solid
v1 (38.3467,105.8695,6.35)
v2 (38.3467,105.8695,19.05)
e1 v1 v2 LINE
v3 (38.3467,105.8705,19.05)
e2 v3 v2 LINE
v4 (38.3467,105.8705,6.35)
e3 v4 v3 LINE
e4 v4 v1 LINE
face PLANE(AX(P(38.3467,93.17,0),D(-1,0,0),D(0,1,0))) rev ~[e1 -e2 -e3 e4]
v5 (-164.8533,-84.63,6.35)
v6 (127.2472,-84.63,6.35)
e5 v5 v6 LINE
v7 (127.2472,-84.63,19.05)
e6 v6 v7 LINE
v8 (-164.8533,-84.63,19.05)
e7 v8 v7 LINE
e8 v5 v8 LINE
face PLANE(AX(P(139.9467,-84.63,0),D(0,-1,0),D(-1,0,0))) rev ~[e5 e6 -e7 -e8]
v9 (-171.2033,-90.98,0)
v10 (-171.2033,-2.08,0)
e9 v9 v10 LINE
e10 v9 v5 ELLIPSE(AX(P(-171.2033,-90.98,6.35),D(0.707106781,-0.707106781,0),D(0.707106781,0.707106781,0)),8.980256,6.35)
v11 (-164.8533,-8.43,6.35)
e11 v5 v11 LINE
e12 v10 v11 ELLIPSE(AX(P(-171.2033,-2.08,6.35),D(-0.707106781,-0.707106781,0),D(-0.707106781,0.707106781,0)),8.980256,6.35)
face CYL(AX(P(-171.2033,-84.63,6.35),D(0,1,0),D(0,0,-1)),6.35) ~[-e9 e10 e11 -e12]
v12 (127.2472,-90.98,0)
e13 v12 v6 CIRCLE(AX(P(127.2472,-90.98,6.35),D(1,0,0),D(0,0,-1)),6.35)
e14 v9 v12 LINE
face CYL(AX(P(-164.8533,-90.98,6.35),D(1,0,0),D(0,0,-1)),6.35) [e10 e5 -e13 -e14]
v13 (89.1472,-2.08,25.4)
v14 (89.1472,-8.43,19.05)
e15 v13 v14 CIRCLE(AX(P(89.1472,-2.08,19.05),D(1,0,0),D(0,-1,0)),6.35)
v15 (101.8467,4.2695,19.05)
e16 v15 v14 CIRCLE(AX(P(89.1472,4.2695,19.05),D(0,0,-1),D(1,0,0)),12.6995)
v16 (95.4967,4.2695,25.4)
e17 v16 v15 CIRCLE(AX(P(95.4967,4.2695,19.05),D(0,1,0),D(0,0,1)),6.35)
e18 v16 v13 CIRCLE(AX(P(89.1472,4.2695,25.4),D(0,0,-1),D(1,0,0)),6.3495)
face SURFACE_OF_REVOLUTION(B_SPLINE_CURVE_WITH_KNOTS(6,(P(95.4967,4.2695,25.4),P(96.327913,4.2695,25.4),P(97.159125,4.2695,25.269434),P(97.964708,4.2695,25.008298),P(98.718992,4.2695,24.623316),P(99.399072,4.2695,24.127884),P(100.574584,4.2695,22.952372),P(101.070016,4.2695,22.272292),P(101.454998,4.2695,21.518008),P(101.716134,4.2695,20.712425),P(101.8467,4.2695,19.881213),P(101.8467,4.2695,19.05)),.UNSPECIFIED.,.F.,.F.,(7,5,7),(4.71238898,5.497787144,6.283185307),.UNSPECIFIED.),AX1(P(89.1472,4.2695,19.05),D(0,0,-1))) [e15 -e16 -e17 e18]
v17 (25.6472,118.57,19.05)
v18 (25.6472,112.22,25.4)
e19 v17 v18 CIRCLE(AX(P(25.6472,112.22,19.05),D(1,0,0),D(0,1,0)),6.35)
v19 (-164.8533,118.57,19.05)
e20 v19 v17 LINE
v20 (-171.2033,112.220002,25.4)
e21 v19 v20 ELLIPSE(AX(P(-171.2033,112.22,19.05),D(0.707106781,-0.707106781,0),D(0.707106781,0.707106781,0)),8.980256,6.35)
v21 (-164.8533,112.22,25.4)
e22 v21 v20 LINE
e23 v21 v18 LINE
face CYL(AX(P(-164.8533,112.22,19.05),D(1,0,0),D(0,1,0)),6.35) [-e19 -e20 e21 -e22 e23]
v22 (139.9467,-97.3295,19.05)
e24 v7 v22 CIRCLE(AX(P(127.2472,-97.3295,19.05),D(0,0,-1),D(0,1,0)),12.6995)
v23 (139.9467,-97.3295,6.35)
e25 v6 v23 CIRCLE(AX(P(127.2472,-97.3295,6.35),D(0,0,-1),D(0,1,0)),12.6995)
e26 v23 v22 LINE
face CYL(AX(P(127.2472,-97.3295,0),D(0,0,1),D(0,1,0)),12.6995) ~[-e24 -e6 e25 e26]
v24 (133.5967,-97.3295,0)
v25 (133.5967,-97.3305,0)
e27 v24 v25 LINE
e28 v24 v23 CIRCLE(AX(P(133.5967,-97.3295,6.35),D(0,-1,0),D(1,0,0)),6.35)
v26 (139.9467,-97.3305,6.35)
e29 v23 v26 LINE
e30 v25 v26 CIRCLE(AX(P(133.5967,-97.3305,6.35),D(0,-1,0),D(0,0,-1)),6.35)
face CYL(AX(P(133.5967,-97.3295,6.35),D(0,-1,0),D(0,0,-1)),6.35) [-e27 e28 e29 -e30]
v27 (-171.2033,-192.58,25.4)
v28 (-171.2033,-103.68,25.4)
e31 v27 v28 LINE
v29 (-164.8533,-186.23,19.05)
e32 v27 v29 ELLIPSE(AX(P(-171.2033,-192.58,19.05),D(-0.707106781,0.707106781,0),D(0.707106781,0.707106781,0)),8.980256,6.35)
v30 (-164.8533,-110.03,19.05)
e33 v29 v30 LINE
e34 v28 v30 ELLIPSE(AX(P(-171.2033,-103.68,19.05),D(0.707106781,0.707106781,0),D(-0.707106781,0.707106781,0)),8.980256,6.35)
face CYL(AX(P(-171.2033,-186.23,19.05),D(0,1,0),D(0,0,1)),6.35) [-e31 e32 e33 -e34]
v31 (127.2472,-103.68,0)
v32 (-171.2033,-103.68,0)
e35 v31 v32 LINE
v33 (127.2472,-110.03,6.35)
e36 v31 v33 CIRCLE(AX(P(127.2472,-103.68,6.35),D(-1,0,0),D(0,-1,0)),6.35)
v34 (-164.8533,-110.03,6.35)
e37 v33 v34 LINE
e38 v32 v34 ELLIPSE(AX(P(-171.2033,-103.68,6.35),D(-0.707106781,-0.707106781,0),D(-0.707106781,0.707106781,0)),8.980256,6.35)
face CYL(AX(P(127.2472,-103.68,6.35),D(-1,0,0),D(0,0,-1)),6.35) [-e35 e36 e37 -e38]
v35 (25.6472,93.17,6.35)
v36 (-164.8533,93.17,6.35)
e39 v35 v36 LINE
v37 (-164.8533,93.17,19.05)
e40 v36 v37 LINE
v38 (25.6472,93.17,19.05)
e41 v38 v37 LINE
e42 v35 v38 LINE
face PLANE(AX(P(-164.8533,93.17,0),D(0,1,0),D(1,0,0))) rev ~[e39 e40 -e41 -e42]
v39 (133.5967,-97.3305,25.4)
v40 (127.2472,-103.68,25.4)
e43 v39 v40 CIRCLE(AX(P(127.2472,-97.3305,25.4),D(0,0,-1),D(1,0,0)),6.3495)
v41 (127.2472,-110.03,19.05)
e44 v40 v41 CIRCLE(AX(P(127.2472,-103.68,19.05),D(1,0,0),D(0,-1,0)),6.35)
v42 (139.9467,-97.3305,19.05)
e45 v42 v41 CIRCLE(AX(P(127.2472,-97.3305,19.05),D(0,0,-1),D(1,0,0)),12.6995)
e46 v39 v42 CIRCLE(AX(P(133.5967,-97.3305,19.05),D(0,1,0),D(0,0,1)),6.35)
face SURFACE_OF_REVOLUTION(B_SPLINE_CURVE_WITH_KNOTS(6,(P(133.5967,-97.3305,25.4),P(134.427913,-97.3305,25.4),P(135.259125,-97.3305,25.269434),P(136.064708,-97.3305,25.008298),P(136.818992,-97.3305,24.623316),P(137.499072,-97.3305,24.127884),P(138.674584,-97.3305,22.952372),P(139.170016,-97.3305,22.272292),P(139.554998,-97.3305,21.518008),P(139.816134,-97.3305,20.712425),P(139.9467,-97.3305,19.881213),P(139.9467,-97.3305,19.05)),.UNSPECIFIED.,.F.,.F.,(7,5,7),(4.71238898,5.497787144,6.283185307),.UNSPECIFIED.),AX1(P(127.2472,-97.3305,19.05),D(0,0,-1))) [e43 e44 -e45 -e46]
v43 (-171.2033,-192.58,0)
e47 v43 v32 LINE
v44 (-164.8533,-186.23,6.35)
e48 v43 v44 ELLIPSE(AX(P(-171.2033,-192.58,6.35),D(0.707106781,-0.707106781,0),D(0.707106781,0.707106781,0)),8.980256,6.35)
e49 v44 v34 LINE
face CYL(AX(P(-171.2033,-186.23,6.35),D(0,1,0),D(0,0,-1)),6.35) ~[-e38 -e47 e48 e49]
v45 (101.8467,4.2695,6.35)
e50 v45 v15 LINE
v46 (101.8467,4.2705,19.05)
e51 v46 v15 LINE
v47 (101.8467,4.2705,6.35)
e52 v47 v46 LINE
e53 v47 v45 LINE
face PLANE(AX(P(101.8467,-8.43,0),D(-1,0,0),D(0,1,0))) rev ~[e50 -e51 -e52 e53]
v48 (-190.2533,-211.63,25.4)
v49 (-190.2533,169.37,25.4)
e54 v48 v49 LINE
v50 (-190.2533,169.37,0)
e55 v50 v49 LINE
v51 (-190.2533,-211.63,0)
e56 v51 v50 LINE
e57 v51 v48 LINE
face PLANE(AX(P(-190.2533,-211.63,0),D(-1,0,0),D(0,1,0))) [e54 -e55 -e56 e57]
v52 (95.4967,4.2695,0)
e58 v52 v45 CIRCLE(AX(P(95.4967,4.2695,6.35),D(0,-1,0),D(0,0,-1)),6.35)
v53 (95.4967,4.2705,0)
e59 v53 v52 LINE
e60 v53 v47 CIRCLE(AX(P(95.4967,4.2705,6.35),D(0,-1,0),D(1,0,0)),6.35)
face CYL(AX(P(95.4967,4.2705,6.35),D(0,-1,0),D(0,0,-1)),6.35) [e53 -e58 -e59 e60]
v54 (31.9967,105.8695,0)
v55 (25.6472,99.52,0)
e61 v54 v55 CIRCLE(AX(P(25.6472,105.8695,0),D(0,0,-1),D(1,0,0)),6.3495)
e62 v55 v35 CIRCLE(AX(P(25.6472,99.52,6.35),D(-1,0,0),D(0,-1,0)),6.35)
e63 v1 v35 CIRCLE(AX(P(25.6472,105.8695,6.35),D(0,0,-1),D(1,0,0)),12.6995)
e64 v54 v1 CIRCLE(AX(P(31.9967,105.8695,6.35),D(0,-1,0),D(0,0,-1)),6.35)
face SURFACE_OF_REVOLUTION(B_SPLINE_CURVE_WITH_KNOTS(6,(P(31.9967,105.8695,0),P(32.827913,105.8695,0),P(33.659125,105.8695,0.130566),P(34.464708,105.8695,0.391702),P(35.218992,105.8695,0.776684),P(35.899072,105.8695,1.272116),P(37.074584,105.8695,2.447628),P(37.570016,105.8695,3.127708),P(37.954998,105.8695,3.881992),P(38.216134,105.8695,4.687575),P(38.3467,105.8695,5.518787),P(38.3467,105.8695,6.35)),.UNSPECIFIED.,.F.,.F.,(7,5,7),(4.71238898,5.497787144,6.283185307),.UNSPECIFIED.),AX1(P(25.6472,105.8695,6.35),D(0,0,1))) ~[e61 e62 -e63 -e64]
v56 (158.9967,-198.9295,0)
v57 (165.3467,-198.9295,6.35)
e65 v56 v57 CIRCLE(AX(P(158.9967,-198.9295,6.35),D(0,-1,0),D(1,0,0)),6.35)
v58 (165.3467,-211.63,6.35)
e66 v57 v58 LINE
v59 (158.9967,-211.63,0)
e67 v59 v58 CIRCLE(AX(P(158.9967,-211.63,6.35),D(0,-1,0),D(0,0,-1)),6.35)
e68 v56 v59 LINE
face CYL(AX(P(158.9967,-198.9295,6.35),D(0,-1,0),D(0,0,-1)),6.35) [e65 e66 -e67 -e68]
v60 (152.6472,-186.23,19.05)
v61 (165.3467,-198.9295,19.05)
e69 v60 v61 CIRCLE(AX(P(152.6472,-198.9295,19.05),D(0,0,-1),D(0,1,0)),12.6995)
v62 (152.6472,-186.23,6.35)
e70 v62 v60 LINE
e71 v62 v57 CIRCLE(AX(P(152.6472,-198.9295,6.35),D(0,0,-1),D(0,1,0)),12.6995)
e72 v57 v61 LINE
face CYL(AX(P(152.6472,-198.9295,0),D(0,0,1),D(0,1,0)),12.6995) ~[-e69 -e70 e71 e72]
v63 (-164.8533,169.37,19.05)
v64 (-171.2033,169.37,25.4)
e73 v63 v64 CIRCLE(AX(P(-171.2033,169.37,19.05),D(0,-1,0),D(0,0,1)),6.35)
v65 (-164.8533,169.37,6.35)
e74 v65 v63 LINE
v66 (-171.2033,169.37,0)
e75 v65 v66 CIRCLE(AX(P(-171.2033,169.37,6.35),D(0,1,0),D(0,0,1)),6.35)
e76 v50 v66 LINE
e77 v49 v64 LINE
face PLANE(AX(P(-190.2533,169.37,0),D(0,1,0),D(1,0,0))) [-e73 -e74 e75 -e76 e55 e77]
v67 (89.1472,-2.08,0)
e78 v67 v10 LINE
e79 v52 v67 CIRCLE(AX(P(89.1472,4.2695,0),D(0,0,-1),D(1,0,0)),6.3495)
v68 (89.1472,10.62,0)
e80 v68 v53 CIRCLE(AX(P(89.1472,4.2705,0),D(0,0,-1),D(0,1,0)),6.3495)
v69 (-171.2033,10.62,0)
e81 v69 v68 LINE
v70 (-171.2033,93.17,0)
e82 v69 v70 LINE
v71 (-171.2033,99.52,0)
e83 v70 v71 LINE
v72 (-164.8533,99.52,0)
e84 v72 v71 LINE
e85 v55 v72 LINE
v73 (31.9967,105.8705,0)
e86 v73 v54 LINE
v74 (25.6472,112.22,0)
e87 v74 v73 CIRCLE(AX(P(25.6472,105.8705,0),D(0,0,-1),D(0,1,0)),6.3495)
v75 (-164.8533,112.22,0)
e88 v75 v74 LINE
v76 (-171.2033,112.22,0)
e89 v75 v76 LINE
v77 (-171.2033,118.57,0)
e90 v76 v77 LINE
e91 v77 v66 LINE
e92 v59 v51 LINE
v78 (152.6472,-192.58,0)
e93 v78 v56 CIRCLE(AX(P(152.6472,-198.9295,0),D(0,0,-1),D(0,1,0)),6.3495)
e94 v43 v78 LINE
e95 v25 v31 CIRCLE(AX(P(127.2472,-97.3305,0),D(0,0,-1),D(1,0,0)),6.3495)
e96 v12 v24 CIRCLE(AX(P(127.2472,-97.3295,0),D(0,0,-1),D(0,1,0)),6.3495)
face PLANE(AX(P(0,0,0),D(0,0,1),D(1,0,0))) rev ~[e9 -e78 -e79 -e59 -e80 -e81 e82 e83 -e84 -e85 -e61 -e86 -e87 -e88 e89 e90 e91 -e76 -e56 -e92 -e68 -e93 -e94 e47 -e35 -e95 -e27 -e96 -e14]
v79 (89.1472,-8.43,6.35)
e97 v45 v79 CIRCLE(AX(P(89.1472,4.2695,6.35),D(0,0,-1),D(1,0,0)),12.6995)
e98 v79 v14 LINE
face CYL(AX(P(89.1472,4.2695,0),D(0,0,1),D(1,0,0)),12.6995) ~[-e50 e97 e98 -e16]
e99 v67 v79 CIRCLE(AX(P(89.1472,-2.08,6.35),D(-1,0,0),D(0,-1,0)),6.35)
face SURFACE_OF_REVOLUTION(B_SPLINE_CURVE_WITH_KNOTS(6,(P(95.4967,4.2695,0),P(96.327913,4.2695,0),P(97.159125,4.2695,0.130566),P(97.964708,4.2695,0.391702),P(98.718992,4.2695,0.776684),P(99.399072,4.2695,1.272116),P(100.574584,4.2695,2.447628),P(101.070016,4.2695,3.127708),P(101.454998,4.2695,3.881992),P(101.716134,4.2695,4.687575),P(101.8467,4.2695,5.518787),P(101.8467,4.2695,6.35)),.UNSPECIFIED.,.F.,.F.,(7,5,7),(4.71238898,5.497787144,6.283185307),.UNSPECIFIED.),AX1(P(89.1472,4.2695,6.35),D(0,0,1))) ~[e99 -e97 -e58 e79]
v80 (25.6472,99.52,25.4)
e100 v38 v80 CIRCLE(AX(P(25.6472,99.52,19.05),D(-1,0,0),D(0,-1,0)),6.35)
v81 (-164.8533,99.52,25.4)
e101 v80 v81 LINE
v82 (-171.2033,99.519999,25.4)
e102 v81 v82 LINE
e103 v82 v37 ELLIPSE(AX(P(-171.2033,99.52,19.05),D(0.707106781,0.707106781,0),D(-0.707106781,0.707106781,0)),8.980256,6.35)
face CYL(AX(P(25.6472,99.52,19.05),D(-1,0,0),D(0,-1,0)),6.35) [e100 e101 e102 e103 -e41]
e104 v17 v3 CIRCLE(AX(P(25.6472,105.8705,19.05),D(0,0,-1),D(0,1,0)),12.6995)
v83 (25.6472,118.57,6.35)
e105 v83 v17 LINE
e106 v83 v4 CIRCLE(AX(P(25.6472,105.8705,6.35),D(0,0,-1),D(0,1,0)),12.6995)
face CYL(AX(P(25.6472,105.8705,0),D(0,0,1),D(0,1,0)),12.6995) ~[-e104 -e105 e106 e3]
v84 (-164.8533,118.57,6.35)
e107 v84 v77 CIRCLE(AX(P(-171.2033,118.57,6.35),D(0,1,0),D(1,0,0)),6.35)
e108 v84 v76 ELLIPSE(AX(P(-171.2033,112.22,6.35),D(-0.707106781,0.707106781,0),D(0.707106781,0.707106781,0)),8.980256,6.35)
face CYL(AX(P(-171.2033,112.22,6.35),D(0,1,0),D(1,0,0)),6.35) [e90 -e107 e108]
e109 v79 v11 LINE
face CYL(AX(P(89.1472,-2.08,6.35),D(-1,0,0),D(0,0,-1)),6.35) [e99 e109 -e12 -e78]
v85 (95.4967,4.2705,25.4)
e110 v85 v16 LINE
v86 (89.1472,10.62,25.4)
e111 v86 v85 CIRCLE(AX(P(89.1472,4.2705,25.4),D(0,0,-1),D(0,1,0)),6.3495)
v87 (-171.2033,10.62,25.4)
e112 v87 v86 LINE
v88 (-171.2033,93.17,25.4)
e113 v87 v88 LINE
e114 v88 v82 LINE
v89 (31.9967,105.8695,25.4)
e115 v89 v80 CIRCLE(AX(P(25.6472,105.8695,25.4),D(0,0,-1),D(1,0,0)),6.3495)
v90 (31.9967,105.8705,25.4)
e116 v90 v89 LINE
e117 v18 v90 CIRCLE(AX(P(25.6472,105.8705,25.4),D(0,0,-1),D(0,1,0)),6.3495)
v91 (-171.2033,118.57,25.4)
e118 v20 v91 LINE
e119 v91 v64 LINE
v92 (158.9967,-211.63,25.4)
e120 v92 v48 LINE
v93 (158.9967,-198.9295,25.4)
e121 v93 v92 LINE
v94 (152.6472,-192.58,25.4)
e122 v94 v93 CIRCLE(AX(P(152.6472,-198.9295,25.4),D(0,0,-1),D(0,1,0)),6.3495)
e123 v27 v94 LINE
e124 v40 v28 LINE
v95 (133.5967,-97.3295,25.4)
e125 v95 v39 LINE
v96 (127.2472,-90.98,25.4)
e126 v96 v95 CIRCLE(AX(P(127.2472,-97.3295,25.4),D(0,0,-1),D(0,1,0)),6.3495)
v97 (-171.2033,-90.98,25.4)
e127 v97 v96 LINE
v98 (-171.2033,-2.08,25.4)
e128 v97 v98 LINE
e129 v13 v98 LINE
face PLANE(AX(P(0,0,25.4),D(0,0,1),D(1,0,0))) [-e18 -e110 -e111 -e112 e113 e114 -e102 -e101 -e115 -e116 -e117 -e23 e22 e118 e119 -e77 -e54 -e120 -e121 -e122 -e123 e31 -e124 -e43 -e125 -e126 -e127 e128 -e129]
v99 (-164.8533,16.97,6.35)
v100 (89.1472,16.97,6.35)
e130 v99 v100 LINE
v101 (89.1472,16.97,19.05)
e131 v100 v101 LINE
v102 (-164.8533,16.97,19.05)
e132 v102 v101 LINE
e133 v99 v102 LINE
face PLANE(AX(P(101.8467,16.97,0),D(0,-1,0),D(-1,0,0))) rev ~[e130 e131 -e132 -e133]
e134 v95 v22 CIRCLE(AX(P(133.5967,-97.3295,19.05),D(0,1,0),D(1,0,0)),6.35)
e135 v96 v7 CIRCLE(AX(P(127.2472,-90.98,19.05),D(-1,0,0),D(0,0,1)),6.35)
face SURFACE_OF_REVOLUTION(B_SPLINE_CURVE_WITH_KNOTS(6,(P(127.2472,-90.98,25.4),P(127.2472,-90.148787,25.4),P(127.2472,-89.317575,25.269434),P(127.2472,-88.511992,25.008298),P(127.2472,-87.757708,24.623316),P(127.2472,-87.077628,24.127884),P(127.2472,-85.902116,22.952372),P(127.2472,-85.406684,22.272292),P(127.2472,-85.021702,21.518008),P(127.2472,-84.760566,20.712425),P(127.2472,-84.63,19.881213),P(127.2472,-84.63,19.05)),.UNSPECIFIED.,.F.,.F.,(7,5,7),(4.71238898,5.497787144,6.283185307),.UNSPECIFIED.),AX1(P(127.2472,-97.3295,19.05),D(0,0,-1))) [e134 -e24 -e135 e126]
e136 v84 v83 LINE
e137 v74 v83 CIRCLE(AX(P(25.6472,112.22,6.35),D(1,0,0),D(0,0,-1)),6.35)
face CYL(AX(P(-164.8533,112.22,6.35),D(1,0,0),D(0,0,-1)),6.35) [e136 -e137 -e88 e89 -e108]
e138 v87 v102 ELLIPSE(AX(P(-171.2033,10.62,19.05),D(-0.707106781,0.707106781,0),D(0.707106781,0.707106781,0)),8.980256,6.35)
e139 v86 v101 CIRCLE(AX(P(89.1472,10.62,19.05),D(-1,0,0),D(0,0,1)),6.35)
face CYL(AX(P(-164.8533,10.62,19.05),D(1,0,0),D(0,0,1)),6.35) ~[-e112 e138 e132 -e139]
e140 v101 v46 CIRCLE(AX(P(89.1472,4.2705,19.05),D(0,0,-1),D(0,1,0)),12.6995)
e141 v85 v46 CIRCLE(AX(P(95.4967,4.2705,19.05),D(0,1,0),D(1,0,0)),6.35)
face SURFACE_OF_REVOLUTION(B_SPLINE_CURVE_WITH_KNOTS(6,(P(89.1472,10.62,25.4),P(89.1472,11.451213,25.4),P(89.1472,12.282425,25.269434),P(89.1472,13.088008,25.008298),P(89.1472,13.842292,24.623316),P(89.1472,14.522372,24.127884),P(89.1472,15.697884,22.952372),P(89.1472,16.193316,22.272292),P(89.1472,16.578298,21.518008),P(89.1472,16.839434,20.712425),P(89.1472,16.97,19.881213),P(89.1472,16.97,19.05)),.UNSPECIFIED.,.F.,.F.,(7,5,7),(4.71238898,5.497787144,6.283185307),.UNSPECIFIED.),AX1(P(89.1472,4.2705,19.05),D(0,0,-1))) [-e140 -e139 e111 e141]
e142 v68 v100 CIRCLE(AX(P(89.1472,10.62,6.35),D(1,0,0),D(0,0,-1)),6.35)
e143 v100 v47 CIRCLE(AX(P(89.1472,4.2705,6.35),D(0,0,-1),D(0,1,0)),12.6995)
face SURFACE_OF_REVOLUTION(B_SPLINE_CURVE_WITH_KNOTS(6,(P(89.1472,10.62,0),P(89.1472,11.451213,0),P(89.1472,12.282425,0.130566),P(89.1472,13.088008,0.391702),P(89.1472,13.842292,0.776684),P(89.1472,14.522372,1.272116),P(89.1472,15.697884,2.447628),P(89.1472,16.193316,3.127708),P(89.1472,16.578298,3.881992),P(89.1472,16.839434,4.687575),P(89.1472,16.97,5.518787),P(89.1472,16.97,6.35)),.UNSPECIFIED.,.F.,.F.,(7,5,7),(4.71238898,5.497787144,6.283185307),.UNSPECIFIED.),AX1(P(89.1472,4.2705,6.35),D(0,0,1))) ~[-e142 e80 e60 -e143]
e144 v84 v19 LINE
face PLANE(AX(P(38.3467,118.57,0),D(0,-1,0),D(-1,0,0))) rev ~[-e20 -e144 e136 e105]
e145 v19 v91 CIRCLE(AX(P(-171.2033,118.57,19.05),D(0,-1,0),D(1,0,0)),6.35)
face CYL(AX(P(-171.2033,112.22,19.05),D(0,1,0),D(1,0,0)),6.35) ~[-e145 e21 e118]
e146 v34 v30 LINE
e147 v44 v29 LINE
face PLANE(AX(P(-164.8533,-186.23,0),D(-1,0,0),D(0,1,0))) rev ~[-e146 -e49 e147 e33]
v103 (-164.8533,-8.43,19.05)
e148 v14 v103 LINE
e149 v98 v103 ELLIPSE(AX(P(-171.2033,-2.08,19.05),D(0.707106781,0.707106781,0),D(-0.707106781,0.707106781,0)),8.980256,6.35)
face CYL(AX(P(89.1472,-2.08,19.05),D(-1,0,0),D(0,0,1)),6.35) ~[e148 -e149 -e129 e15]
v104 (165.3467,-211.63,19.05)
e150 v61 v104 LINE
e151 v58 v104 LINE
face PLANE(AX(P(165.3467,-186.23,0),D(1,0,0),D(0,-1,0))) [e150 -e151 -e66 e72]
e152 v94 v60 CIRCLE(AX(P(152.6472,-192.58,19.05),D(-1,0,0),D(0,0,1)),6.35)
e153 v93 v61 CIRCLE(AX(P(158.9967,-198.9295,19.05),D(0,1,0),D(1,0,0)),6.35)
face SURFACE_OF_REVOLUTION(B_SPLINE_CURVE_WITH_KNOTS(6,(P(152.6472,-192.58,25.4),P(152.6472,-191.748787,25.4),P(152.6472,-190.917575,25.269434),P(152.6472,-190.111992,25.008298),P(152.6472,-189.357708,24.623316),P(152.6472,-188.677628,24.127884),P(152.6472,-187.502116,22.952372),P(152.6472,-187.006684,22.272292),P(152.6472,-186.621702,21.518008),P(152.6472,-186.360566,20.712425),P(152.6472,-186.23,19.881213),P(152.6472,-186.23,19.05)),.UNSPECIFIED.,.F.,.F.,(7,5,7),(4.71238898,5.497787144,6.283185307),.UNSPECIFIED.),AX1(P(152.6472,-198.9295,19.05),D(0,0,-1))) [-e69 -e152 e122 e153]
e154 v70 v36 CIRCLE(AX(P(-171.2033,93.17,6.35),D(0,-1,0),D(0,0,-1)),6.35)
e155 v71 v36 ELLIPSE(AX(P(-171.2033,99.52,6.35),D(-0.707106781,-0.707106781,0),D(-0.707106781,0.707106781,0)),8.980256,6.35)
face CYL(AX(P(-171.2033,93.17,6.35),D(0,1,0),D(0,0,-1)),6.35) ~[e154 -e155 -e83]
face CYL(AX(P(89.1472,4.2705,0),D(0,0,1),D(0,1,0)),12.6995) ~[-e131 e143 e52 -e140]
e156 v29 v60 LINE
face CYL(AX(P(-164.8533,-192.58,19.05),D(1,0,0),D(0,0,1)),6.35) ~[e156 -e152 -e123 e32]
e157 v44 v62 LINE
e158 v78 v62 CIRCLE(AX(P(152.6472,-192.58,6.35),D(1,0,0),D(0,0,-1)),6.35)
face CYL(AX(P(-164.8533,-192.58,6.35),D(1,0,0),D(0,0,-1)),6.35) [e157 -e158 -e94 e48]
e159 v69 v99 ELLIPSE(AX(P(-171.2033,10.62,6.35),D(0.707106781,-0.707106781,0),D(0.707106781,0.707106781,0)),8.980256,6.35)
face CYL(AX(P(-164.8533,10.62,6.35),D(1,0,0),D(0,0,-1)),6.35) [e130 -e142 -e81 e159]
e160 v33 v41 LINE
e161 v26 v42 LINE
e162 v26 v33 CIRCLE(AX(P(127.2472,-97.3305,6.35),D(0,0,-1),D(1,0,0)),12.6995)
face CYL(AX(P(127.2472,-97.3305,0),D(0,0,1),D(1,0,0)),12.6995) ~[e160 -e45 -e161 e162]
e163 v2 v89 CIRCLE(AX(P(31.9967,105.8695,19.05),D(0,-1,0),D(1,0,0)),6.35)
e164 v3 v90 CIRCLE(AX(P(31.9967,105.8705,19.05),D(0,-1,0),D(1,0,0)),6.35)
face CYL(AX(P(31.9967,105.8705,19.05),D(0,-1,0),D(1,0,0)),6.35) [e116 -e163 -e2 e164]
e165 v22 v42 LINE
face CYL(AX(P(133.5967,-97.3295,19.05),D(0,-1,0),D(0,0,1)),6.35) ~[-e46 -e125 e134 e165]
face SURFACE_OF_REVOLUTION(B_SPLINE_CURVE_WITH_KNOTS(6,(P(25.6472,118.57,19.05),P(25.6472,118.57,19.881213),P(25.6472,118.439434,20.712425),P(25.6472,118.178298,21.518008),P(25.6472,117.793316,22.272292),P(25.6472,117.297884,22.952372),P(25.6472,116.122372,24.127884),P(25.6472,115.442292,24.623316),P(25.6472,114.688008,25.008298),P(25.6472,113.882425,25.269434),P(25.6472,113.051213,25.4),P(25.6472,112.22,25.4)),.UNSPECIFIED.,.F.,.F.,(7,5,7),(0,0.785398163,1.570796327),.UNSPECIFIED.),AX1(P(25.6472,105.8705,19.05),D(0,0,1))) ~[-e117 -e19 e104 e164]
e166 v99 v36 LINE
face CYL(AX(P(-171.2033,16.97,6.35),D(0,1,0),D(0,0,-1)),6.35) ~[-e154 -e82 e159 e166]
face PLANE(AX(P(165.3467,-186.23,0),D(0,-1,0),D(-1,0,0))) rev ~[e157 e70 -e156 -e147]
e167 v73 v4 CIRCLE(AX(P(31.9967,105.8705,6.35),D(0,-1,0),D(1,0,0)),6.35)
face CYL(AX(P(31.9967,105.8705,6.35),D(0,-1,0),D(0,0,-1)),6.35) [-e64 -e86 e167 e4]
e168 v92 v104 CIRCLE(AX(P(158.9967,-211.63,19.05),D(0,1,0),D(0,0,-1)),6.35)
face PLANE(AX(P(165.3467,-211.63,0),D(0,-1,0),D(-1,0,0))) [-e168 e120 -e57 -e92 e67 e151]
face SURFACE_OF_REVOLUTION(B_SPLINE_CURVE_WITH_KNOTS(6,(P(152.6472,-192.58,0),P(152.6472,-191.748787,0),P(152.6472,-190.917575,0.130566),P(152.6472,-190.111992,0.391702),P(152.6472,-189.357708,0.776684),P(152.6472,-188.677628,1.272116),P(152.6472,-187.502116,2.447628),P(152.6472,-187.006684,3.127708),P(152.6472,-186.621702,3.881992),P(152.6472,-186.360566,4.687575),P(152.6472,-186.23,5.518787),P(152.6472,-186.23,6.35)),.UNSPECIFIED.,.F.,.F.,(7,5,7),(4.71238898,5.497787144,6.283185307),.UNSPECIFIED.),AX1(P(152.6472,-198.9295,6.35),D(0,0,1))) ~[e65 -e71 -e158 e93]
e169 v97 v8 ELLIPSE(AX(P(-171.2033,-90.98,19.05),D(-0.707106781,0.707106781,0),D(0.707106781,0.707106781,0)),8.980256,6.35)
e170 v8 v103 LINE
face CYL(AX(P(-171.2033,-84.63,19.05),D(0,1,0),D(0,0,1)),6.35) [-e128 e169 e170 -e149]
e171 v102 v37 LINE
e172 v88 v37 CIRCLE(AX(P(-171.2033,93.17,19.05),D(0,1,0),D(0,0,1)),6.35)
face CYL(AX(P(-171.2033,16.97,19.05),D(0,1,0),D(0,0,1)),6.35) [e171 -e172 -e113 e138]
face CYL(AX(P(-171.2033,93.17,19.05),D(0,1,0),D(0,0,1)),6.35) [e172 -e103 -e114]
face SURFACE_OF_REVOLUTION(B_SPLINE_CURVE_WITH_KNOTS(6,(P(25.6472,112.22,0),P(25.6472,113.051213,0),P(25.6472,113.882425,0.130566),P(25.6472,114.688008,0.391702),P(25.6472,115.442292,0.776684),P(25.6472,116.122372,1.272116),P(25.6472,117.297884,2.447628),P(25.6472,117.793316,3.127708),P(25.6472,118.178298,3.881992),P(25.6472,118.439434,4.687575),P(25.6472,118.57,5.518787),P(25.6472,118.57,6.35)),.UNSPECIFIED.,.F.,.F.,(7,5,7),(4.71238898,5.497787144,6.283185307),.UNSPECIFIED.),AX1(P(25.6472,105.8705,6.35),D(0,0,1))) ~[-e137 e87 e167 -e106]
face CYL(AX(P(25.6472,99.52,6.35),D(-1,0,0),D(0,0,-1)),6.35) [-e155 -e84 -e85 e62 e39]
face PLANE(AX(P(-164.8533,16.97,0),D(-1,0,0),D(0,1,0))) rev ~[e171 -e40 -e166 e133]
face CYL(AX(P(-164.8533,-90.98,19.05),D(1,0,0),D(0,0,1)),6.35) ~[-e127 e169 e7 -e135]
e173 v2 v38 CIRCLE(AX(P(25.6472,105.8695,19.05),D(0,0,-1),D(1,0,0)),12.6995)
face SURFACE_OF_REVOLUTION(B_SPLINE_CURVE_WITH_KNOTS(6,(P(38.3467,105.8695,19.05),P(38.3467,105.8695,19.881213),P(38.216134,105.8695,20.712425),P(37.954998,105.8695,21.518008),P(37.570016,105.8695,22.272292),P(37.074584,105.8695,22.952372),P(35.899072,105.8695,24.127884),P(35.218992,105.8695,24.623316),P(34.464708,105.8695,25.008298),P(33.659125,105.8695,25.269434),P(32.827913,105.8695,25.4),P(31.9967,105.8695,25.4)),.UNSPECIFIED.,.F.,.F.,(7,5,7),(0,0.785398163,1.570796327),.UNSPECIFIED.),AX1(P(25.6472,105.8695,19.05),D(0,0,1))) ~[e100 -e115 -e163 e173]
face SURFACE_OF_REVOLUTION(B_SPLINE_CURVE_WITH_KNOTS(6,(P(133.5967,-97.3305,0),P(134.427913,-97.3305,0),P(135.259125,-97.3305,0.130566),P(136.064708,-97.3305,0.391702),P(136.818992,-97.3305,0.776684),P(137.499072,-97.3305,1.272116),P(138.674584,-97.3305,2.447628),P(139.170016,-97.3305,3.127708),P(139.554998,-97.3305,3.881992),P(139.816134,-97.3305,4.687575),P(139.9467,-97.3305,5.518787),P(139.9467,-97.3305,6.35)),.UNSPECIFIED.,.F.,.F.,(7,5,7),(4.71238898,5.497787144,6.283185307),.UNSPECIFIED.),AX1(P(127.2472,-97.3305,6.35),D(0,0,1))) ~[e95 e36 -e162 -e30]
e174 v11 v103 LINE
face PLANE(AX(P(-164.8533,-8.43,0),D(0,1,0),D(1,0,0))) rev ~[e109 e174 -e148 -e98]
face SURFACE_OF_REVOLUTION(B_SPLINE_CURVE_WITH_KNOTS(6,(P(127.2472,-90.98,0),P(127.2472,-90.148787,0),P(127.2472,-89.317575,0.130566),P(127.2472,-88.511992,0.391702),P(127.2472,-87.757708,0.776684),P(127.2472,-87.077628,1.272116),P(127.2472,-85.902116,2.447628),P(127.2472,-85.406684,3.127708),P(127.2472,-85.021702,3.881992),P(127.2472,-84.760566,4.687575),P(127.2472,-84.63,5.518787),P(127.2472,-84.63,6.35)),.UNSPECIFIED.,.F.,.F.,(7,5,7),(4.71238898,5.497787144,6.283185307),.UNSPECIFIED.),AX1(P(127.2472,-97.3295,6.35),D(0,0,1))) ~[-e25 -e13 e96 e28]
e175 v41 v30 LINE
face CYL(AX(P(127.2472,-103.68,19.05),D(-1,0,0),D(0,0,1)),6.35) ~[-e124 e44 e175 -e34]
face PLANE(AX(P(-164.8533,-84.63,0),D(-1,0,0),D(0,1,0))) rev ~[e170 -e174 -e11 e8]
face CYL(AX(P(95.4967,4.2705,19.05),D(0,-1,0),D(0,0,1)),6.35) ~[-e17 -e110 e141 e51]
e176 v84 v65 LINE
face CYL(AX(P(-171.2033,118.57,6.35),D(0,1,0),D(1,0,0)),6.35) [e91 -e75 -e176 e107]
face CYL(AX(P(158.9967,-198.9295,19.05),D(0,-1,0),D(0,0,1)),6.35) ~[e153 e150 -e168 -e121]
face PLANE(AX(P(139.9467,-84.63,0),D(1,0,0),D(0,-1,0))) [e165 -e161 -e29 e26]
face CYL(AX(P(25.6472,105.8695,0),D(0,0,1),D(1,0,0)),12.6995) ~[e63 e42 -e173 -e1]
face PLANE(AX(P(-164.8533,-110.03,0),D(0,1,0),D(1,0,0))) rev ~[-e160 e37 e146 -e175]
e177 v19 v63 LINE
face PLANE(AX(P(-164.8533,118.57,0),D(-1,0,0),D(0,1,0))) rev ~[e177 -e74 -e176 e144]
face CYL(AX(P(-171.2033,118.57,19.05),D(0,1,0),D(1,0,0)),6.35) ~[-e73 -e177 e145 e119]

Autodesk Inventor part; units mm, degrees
ref_plane "YZ Plane" through (0, 0, 0) normal (1, 0, 0) x (0, 1, 0)
ref_plane "XZ Plane" through (0, 0, 0) normal (0, 1, 0) x (-1, 0, 0)
ref_plane "XY Plane" through (0, 0, 0) normal (0, 0, 1) x (1, 0, 0)
sketch "Sketch1" plane through (0, 0, 0) normal (0, 0, 1) x (1, 0, 0)
  line L0 (-190.2533, 169.37) -> (-164.8533, 169.37)
  line L1 (165.3467, -186.23) -> (165.3467, -211.63)
  line L2 (165.3467, -211.63) -> (-190.2533, -211.63)
  line L3 (-190.2533, -211.63) -> (-190.2533, 169.37)
  line L4 (165.3467, -186.23) -> (-164.8533, -186.23)
  line L5 (-164.8533, -186.23) -> (-164.8533, -110.03)
  line L6 (-164.8533, -110.03) -> (139.9467, -110.03)
  line L7 (139.9467, -84.63) -> (-164.8533, -84.63)
  line L8 (-164.8533, -84.63) -> (-164.8533, -8.43)
  line L9 (-164.8533, -8.43) -> (101.8467, -8.43)
  line L10 (101.8467, -8.43) -> (101.8467, 16.97)
  line L11 (101.8467, 16.97) -> (-164.8533, 16.97)
  line L12 (-164.8533, 16.97) -> (-164.8533, 93.17)
  line L13 (-164.8533, 93.17) -> (38.3467, 93.17)
  line L14 (38.3467, 93.17) -> (38.3467, 118.57)
  line L15 (38.3467, 118.57) -> (-164.8533, 118.57)
  line L16 (-164.8533, 118.57) -> (-164.8533, 169.37)
  line L17 (139.9467, -84.63) -> (139.9467, -110.03)
  point P0 (0, 0)
  dimension "d0" = 381
  dimension "d1" = 355.6
  dimension "d2" = 25.4
  dimension "d3" = 25.4
  dimension "d5" = 25.4
  dimension "d6" = 25.4
  dimension "d7" = 25.4
  dimension "d8" = 76.2
  dimension "d9" = 76.2
  dimension "d10" = 76.2
  dimension "d11" = 203.2
  dimension "d12" = 266.7
  dimension "d13" = 304.8
extrude "Extrusion1" add sketch "Sketch1" along normal blind 25.4
fillet "Fillet1" radius 12.7 5 edges at (165.3467, -186.23, 12.7) (139.9467, -84.63, 12.7) (139.9467, -110.03, 12.7) (101.8467, 16.97, 12.7) (101.8467, -8.43, 12.7)
fillet "Fillet1" radius 12.7 2 edges at (38.3467, 118.57, 12.7) (38.3467, 93.17, 12.7)
fillet "Fillet2" radius 6.35 6 edges at (34.6271, 114.8504, 25.4) (-69.6031, 93.17, 25.4) (-69.6031, 118.57, 25.4) (34.6271, 114.8504, 0) (-69.6031, 93.17, 0) (-69.6031, 118.57, 0)
fillet "Fillet3" radius 6.35 26 edges at (-164.8533, 143.97, 25.4) (-164.8533, 143.97, 0) (-164.8533, 55.07, 25.4) (-164.8533, 55.07, 0) (98.1271, 13.2504, 25.4) (-37.8531, -8.43, 25.4) (-37.8531, 16.97, 25.4) (98.1271, 13.2504, 0) (-37.8531, -8.43, 0) (-37.8531, 16.97, 0) (-164.8533, -46.53, 25.4) (-164.8533, -46.53, 0) (136.2271, -88.3496, 25.4) (-18.8031, -84.63, 25.4) (-18.8031, -110.03, 25.4) (136.2271, -88.3496, 0) (-18.8031, -110.03, 0) (-18.8031, -84.63, 0) (-164.8533, -148.13, 25.4) (-164.8533, -148.13, 0) (161.6271, -189.9496, 25.4) (165.3467, -205.2798, 25.4) (-6.1031, -186.23, 25.4) (161.6271, -189.9496, 0) (165.3467, -205.2798, 0) (-6.1031, -186.23, 0)
properties part number "snowboard rack" material "Wood (Birch)"
